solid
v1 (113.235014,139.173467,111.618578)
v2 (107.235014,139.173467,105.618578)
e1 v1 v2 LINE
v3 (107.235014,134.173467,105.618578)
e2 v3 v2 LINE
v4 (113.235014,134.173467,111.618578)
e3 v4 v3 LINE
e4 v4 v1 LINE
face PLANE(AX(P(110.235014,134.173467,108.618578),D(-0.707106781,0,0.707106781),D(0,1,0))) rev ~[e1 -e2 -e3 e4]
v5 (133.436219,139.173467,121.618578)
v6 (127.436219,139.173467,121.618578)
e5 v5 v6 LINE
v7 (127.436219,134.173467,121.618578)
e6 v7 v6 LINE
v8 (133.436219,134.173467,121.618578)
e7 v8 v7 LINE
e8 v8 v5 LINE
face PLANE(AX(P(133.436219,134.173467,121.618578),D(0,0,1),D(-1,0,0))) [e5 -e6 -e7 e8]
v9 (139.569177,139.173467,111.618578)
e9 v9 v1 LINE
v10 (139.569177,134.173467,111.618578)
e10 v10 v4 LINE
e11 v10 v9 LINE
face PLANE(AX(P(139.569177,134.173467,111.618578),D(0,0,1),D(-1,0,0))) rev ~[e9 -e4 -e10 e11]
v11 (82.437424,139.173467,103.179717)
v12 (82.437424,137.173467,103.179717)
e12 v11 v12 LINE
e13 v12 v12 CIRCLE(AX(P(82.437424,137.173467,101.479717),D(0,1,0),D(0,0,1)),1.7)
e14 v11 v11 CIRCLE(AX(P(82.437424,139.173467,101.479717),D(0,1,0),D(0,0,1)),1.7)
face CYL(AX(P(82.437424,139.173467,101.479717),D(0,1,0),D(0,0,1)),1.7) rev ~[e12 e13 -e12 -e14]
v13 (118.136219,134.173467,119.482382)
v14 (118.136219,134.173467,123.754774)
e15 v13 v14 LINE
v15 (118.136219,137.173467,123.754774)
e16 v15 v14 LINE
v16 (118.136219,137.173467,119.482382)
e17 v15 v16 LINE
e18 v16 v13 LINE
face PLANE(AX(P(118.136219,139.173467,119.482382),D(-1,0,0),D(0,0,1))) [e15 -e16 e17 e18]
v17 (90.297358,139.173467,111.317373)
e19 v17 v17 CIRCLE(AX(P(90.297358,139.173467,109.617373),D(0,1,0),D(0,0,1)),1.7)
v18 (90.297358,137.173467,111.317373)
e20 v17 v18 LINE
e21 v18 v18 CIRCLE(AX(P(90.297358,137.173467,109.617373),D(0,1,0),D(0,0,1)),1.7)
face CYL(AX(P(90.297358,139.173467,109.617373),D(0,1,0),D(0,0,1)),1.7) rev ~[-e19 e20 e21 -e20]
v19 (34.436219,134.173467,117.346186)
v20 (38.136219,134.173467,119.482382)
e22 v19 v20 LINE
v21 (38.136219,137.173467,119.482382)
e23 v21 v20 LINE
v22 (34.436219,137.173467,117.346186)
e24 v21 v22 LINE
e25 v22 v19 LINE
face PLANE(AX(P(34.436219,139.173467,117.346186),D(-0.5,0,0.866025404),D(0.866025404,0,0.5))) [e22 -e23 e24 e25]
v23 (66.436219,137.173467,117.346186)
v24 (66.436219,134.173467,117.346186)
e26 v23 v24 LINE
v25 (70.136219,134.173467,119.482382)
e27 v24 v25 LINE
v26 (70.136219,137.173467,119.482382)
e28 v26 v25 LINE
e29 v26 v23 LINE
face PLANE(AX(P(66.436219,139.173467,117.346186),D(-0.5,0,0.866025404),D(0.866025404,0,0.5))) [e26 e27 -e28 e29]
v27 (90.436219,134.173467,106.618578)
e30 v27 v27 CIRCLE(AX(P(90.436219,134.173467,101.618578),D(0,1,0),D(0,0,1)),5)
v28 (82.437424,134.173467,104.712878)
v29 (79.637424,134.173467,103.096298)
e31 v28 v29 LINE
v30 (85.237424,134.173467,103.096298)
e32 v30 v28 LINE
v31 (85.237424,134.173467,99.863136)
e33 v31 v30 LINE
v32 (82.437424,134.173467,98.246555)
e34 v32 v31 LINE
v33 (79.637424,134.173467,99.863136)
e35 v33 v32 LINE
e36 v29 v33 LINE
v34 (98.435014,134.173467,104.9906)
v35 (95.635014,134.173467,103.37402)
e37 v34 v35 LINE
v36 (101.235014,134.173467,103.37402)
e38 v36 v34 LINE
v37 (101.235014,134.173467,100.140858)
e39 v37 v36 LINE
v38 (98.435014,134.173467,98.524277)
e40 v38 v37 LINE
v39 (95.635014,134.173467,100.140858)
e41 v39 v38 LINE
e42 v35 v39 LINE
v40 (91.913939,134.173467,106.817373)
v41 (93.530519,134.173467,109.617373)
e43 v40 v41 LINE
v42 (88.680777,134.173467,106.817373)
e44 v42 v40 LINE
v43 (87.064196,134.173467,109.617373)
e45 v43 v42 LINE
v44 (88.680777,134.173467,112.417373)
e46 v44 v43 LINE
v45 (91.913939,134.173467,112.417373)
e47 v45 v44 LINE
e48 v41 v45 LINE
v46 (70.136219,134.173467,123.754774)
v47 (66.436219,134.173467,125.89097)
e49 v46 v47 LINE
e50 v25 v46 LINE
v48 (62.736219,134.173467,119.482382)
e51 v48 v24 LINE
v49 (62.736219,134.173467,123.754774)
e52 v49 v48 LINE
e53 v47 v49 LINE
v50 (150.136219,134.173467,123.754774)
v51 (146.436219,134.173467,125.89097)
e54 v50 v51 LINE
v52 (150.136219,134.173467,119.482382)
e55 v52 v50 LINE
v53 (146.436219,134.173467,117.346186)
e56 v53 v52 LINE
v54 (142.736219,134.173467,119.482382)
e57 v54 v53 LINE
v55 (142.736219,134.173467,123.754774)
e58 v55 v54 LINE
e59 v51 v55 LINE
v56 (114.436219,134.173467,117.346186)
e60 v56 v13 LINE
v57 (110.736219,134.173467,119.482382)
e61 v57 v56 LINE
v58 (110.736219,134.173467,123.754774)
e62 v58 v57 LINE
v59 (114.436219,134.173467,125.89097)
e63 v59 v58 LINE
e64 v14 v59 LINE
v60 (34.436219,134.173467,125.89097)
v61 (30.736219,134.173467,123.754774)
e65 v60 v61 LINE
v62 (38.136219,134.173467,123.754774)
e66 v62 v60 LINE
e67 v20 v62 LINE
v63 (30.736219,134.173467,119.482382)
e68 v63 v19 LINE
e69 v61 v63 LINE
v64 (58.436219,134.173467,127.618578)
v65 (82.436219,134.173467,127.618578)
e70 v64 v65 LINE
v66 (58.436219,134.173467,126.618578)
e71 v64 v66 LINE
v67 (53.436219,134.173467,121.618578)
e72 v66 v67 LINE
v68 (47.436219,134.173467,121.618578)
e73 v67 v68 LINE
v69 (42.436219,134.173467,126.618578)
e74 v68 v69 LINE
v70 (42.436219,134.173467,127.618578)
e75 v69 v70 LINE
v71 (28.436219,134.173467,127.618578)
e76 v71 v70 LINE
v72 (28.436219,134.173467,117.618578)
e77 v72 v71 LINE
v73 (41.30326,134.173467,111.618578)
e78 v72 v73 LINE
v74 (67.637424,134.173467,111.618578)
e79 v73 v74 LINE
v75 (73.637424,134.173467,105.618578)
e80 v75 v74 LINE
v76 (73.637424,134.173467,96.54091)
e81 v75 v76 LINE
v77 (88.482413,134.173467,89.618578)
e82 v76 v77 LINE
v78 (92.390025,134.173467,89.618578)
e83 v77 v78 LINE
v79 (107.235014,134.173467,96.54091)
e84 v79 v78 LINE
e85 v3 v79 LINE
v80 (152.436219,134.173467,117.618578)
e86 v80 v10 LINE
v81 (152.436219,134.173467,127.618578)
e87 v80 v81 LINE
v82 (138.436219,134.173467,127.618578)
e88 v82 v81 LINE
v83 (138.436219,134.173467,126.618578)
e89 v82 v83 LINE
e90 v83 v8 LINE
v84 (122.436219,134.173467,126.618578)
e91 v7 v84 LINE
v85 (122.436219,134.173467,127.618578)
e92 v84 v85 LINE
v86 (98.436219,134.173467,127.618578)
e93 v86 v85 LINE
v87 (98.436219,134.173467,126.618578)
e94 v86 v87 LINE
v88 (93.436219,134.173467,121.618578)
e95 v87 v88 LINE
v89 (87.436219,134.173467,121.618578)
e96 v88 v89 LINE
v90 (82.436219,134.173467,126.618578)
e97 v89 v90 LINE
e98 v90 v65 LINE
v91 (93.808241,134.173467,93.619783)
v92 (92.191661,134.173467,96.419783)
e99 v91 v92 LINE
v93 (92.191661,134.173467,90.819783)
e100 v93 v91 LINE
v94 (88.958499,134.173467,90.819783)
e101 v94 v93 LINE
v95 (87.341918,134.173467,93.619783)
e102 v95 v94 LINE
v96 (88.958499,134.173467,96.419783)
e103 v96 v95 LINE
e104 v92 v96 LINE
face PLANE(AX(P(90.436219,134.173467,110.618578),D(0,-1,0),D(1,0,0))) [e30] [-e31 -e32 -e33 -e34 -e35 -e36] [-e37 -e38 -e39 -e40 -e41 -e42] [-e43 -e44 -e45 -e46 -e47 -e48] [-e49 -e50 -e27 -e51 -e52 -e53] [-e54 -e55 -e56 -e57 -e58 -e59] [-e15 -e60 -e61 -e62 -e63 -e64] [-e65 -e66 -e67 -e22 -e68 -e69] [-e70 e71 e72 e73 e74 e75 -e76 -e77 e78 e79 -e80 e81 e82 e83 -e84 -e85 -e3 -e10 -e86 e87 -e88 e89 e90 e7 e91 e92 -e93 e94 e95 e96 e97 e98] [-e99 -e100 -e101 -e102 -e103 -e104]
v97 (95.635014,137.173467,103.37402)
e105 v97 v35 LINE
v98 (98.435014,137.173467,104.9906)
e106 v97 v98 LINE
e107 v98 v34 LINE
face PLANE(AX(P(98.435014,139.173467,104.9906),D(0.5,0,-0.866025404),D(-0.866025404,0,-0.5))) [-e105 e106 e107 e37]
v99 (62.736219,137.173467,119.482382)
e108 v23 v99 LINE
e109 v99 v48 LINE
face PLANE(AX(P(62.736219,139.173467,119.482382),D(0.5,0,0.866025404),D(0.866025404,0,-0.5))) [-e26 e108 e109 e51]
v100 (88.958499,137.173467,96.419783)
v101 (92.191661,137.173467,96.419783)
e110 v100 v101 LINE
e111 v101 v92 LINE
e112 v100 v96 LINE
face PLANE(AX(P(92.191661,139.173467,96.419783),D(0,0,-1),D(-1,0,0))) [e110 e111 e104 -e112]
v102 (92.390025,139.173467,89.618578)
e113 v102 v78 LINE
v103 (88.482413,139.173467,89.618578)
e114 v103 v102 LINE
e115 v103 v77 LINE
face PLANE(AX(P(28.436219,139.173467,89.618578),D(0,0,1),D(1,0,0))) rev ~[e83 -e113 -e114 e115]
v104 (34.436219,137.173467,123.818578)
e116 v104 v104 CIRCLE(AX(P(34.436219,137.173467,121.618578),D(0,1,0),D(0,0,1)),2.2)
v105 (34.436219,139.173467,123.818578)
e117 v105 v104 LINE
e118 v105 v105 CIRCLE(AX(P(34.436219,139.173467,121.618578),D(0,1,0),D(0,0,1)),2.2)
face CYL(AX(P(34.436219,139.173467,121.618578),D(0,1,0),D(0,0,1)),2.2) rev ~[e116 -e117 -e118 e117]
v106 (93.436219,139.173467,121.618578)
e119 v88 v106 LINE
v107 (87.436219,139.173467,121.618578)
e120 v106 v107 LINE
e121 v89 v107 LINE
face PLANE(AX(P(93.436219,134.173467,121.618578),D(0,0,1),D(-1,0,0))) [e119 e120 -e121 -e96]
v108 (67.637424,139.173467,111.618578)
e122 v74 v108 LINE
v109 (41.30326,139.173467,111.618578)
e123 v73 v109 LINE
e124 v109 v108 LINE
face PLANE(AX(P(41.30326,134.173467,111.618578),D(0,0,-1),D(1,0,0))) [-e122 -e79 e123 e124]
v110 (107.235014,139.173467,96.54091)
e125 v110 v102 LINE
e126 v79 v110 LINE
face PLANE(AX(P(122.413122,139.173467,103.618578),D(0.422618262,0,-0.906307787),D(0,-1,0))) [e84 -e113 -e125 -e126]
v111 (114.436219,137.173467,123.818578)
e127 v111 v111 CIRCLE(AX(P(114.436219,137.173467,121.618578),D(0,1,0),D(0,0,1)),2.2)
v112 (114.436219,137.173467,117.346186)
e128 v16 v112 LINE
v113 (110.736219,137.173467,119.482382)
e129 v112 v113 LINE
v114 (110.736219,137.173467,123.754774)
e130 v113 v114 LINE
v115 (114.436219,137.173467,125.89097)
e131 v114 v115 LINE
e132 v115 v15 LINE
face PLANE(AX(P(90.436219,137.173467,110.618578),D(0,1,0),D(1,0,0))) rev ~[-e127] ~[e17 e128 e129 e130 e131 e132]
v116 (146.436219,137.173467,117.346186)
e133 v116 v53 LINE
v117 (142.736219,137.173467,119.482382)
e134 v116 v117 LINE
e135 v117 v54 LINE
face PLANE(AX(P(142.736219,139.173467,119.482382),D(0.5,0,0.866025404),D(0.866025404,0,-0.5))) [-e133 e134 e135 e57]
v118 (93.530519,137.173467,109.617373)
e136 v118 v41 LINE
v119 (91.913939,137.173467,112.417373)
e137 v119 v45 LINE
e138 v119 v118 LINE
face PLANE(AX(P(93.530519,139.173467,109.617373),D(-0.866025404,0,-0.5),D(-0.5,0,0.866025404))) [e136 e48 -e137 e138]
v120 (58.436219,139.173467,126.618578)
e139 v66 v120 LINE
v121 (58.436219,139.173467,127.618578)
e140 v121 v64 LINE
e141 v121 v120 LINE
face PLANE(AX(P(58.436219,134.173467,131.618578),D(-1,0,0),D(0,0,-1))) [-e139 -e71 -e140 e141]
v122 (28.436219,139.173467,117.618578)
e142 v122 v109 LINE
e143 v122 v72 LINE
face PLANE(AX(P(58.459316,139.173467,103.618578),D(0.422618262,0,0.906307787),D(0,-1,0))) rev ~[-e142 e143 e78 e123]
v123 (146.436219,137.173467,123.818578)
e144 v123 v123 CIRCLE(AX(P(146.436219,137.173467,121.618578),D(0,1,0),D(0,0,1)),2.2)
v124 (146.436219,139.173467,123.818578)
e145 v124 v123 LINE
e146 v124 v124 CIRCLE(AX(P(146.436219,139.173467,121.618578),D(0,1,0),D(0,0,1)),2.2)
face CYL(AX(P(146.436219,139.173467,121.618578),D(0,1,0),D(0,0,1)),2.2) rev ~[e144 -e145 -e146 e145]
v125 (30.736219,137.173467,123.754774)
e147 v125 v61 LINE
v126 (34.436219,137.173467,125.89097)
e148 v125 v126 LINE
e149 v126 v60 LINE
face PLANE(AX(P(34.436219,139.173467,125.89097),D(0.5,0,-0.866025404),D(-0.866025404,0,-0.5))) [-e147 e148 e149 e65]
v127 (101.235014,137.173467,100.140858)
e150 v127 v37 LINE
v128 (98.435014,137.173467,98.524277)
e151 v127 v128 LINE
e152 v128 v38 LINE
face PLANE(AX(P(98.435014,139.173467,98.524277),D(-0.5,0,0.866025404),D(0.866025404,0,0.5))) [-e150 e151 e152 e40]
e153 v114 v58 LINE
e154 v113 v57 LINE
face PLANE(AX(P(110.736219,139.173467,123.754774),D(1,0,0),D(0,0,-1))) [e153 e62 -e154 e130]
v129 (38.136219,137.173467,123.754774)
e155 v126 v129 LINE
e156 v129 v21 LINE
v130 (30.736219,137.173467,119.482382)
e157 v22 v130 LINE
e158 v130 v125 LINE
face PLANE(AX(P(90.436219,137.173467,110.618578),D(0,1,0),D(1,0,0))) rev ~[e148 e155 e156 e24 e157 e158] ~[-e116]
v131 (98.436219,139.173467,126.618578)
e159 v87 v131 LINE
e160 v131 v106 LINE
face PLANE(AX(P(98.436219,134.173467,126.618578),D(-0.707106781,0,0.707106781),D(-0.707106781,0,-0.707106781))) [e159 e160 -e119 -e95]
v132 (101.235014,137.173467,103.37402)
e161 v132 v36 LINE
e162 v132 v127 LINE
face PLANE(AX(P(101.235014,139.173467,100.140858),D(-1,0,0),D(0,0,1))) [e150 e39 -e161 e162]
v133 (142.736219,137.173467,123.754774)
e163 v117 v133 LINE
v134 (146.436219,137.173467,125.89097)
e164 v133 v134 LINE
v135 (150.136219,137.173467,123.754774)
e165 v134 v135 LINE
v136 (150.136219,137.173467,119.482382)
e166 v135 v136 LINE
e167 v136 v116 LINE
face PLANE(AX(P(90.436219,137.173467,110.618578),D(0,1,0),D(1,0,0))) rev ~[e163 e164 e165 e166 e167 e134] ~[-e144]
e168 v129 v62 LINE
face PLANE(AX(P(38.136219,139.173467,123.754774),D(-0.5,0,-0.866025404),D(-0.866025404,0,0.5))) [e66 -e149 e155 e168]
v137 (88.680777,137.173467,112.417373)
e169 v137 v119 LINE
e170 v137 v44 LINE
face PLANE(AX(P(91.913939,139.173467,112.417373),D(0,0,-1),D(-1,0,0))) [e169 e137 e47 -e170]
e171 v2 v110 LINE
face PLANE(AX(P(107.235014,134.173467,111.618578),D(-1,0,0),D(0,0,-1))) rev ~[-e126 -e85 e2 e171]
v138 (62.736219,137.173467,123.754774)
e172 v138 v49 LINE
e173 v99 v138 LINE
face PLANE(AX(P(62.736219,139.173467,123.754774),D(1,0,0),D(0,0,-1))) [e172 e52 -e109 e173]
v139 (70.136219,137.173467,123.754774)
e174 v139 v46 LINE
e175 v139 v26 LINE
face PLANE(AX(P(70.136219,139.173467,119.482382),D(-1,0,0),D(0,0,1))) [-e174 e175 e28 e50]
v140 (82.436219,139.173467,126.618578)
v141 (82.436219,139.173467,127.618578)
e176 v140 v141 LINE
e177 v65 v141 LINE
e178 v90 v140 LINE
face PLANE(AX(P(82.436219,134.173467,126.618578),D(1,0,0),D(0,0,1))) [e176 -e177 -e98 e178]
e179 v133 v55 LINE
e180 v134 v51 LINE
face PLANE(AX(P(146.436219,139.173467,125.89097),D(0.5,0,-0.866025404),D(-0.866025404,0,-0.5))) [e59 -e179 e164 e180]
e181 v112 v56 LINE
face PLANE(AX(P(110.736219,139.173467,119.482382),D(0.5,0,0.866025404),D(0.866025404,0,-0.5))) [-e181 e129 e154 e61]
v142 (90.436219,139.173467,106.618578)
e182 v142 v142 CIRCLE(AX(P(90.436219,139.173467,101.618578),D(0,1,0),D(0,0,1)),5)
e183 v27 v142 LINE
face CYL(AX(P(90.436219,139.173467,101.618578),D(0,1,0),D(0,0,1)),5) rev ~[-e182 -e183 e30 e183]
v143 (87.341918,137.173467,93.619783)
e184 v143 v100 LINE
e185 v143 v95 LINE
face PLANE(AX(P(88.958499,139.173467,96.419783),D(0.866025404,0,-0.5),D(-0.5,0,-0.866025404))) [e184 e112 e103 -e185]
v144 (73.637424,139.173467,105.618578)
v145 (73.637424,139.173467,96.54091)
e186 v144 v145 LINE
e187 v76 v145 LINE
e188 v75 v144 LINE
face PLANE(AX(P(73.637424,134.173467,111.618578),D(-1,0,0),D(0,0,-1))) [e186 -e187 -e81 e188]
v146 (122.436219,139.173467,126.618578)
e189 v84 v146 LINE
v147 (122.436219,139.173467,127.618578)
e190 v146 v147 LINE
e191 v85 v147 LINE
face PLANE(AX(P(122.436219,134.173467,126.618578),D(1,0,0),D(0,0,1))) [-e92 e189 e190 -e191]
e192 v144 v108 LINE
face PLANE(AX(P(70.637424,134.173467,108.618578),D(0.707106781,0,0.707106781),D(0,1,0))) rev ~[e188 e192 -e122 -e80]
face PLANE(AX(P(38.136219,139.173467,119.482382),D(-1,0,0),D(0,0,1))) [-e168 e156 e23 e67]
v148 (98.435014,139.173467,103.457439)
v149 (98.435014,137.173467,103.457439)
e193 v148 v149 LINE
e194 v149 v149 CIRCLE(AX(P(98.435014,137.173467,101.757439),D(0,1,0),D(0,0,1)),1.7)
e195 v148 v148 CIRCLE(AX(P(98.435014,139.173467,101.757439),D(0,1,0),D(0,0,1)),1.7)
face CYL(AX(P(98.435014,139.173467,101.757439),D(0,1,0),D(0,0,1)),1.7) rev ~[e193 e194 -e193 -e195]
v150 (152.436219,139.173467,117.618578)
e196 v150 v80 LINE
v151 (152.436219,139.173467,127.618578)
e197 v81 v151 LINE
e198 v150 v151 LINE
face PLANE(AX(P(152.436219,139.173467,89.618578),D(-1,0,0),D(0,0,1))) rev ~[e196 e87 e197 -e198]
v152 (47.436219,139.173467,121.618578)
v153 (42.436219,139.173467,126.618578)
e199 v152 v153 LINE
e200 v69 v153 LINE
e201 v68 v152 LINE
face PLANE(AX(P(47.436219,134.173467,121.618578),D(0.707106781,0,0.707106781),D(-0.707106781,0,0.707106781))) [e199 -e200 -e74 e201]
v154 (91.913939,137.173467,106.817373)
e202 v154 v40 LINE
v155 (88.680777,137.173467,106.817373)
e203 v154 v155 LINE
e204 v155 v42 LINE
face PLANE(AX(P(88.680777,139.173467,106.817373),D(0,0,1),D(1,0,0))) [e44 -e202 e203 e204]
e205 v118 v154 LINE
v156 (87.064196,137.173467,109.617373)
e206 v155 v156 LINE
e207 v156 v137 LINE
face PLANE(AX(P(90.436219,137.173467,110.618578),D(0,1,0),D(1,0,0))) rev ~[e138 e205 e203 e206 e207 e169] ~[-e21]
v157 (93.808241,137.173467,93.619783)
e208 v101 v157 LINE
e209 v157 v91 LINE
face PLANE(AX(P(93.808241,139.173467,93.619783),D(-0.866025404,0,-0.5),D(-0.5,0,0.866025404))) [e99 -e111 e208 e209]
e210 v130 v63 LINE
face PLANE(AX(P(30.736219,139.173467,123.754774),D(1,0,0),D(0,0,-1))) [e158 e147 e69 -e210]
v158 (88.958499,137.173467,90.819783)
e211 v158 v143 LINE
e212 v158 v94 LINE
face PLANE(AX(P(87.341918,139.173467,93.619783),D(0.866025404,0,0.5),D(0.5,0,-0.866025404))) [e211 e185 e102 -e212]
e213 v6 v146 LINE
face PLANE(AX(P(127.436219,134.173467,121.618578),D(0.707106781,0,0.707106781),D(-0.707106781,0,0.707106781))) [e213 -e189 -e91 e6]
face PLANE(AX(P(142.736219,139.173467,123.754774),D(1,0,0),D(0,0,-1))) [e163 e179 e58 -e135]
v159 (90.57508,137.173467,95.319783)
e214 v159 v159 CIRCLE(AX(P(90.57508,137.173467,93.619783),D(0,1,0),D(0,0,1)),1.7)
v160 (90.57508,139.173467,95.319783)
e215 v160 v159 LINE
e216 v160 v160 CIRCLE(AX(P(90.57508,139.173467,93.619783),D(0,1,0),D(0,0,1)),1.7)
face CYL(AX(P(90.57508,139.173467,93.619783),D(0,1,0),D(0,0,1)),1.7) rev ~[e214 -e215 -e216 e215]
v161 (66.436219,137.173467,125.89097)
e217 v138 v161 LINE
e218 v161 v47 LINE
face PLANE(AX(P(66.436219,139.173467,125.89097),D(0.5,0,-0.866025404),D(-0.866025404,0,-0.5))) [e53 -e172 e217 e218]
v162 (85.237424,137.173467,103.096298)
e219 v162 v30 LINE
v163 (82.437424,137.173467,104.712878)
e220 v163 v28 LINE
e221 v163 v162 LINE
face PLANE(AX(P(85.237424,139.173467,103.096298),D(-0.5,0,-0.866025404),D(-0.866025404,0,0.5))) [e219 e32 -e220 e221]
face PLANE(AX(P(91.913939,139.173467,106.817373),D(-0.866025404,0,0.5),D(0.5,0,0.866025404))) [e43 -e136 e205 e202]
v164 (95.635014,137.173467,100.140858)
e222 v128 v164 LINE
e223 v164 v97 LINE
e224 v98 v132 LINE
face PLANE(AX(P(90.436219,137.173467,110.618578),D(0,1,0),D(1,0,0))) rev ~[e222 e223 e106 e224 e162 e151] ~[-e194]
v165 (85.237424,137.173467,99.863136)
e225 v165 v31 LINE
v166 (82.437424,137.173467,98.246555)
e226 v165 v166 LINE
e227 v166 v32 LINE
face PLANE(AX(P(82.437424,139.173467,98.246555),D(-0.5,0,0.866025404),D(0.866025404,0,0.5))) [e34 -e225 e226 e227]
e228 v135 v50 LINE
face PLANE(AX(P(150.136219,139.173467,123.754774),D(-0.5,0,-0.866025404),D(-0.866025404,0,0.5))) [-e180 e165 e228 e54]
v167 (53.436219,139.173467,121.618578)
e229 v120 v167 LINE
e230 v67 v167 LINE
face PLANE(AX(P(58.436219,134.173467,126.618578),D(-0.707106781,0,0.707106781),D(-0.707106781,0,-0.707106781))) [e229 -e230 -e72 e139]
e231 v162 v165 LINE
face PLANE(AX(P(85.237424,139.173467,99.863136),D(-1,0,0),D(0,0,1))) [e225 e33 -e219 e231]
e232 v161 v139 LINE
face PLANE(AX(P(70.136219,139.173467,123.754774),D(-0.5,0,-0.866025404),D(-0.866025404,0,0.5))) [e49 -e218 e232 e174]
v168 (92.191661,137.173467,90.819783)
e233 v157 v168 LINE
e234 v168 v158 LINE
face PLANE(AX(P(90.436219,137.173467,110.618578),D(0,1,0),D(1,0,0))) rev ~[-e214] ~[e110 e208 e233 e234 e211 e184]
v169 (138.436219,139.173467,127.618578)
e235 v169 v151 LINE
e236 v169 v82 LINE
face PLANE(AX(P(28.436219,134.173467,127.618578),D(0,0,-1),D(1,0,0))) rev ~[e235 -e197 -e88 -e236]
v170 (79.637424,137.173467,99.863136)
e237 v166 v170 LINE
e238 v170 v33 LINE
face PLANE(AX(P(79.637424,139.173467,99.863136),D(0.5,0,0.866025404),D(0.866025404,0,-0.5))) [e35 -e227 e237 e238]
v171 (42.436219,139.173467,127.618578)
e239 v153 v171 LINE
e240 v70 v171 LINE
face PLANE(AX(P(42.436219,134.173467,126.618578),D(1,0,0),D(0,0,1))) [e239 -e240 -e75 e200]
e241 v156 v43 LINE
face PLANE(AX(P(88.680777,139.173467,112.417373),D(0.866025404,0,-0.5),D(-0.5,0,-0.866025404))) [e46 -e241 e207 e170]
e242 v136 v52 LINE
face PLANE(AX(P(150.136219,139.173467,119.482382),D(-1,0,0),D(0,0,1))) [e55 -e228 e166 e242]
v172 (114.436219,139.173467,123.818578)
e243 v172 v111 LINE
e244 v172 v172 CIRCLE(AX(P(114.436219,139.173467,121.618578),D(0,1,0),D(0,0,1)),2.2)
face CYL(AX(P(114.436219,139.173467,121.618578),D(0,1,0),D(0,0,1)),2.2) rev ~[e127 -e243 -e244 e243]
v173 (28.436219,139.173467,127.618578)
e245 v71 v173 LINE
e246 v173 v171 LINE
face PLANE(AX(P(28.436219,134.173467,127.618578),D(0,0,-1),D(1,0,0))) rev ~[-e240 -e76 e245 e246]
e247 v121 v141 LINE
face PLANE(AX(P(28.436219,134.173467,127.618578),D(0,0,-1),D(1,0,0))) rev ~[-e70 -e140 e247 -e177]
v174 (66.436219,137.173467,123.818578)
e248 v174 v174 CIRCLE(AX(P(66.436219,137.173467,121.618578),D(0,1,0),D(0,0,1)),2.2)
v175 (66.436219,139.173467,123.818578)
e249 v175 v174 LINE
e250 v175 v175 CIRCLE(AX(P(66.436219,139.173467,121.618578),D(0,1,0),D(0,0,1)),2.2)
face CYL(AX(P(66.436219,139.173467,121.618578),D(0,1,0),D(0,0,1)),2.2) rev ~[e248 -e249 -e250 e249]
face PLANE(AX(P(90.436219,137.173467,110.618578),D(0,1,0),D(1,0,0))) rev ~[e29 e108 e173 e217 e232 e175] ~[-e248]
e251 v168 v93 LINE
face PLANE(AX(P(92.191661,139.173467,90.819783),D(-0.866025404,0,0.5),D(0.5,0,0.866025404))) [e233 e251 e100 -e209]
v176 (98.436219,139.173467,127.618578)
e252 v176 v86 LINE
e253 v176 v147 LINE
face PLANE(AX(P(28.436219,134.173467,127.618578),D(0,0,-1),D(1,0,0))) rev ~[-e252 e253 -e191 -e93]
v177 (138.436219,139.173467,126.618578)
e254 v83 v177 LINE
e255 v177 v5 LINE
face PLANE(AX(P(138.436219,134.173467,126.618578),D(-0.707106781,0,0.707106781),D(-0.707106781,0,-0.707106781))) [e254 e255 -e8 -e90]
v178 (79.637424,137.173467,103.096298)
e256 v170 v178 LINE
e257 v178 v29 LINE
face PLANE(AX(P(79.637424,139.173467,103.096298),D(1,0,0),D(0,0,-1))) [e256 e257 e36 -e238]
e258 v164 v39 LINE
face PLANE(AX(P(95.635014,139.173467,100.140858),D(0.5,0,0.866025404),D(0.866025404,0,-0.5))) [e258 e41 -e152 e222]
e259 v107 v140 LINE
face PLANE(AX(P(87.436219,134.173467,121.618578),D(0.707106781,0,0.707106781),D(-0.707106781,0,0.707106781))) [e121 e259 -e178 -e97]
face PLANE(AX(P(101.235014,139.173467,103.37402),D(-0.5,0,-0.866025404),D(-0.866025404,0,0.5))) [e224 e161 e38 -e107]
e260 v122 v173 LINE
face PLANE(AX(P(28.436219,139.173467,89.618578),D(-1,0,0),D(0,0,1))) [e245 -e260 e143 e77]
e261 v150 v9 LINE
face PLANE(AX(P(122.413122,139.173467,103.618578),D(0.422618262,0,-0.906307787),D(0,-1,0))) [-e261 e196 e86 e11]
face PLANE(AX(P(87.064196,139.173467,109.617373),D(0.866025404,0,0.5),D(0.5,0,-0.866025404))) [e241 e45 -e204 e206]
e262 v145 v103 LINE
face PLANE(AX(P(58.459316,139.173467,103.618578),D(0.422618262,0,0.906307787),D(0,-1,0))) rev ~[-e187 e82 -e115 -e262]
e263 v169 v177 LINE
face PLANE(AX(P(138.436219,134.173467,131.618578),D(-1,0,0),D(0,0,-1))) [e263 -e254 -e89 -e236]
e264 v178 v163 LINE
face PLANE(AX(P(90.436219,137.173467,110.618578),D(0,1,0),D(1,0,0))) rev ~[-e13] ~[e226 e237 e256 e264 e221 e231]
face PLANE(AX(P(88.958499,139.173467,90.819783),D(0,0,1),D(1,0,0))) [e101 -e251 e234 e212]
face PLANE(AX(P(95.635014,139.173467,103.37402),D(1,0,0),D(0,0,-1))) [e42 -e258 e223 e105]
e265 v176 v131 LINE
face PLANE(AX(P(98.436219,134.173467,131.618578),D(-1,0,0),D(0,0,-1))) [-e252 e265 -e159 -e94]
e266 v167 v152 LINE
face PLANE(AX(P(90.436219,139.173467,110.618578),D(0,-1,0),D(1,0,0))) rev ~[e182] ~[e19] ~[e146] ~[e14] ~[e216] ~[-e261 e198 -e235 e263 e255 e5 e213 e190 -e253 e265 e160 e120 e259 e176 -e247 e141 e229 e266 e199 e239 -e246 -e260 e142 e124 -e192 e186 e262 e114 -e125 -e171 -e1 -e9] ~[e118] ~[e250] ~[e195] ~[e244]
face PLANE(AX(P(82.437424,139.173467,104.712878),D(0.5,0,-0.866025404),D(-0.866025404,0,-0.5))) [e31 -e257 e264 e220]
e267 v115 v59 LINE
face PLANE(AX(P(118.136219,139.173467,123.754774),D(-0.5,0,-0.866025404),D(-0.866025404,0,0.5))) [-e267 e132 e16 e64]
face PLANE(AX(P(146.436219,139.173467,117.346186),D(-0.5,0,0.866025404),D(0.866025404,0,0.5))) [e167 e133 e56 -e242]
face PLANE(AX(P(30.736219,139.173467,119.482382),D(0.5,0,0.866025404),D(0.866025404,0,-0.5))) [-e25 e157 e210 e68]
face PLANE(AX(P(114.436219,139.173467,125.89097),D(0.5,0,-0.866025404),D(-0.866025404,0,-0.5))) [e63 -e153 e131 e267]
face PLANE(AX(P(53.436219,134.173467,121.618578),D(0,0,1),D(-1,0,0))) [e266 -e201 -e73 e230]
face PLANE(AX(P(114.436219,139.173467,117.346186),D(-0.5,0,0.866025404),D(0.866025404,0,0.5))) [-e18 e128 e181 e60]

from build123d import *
from OCP.BRepFilletAPI import BRepFilletAPI_MakeChamfer

# Parameters (mm, degrees)
SKETCH1_W           = 124
SKETCH1_H           = 42
BOSS_EXTRUDE1_DEPTH = 5
SKETCH2_R           = 5
CUT_EXTRUDE1_DEPTH  = 5
SKETCH3_W           = 124
SKETCH3_H           = 42
SKETCH3_R           = 2.2
SKETCH3_R_2         = 1.7
SKETCH3_R_3         = 5
BOSS_EXTRUDE2_DEPTH = 2
CHAMFER1_SIZE       = 28
CHAMFER1_SIZE2      = 60.046193774
CUT_EXTRUDE2_DEPTH  = 10
LPATTERN1_COUNT     = 3
LPATTERN1_PITCH     = 40
SKETCH5_W           = 124
SKETCH5_H           = 4
CUT_EXTRUDE3_DEPTH  = 10
CUT_EXTRUDE4_DEPTH  = 10
CHAMFER2_SIZE       = 6


with BuildPart() as part:
    # Sketch1 → Boss-Extrude1 (new body)
    with BuildSketch(Plane.XZ.offset(-139.173467121)):
        with Locations((90.436218841, 110.61857787)):
            Rectangle(SKETCH1_W, SKETCH1_H)
        Polygon((87.341918286, 93.619783108), (88.95849904, 90.819783108), (92.191660547, 90.819783108), (93.808241301, 93.619783108), (92.191660547, 96.419783108), (88.95849904, 96.419783108), align=None, mode=Mode.SUBTRACT)
        Polygon((98.435013602, 98.524277315), (101.235013602, 100.140858069), (101.235013602, 103.374019576), (98.435013602, 104.99060033), (95.635013602, 103.374019576), (95.635013602, 100.140858069), align=None, mode=Mode.SUBTRACT)
        Polygon((82.437424079, 104.712878424), (79.637424079, 103.09629767), (79.637424079, 99.863136163), (82.437424079, 98.246555409), (85.237424079, 99.863136163), (85.237424079, 103.09629767), align=None, mode=Mode.SUBTRACT)
        Polygon((93.530519395, 109.617372631), (91.913938641, 112.417372631), (88.680777134, 112.417372631), (87.06419638, 109.617372631), (88.680777134, 106.817372631), (91.913938641, 106.817372631), align=None, mode=Mode.SUBTRACT)
        Polygon((34.436218841, 125.890969862), (30.736218841, 123.754773866), (30.736218841, 119.482381874), (34.436218841, 117.346185878), (38.136218841, 119.482381874), (38.136218841, 123.754773866), align=None, mode=Mode.SUBTRACT)
        Polygon((62.736218841, 123.754773866), (62.736218841, 119.482381874), (66.436218841, 117.346185878), (70.136218841, 119.482381874), (70.136218841, 123.754773866), (66.436218841, 125.890969862), align=None, mode=Mode.SUBTRACT)
        Polygon((118.136218841, 123.754773866), (114.436218841, 125.890969862), (110.736218841, 123.754773866), (110.736218841, 119.482381874), (114.436218841, 117.346185878), (118.136218841, 119.482381874), align=None, mode=Mode.SUBTRACT)
        Polygon((142.736218841, 119.482381874), (146.436218841, 117.346185878), (150.136218841, 119.482381874), (150.136218841, 123.754773866), (146.436218841, 125.890969862), (142.736218841, 123.754773866), align=None, mode=Mode.SUBTRACT)
    extrude(amount=BOSS_EXTRUDE1_DEPTH)

    # Sketch2 → Cut-Extrude1 (cut)
    with BuildSketch(Plane(origin=(0, 139.173467121, 0), x_dir=(1, 0, 0), z_dir=(0, 1, 0))):
        with Locations(Location((90.436218841, -101.61857787, 0), (0, 0, 270))):
            Circle(SKETCH2_R)
    extrude(amount=-CUT_EXTRUDE1_DEPTH, mode=Mode.SUBTRACT)

    # Sketch3 → Boss-Extrude2 (add)
    with BuildSketch(Plane(origin=(0, 139.173467121, 0), x_dir=(1, 0, 0), z_dir=(0, 1, 0))):
        with Locations((90.436218841, -110.61857787)):
            Rectangle(SKETCH3_W, SKETCH3_H)
        with Locations(Location((34.436218841, -121.61857787, 0), (0, 0, 270))):
            Circle(SKETCH3_R, mode=Mode.SUBTRACT)
        with Locations(Location((66.436218841, -121.61857787, 0), (0, 0, 270))):
            Circle(SKETCH3_R, mode=Mode.SUBTRACT)
        with Locations(Location((114.436218841, -121.61857787, 0), (0, 0, 270))):
            Circle(SKETCH3_R, mode=Mode.SUBTRACT)
        with Locations(Location((146.436218841, -121.61857787, 0), (0, 0, 270))):
            Circle(SKETCH3_R, mode=Mode.SUBTRACT)
        with Locations(Location((90.575079793, -93.619783108, 0), (0, 0, 270))):
            Circle(SKETCH3_R_2, mode=Mode.SUBTRACT)
        with Locations(Location((82.437424079, -101.479716917, 0), (0, 0, 270))):
            Circle(SKETCH3_R_2, mode=Mode.SUBTRACT)
        with Locations(Location((90.297357888, -109.617372631, 0), (0, 0, 270))):
            Circle(SKETCH3_R_2, mode=Mode.SUBTRACT)
        with Locations(Location((98.435013602, -101.757438823, 0), (0, 0, 270))):
            Circle(SKETCH3_R_2, mode=Mode.SUBTRACT)
        with Locations(Location((90.436218841, -101.61857787, 0), (0, 0, 270))):
            Circle(SKETCH3_R_3, mode=Mode.SUBTRACT)
    extrude(amount=-BOSS_EXTRUDE2_DEPTH)

    # Chamfer1: one chamfer whose edges measure the first distance from different faces: ONE call of the kernel's chamfer builder (chamfer() names one face for all edges)
    chamfer1_edges_1 = [part.edges().sort_by_distance(p)[0] for p in [
        (152.436218841, 136.673467121, 89.61857787),
    ]]
    chamfer1_side_1 = [part.faces().sort_by_distance(p)[0] for p in [
        (152.436218841, 136.673467121, 110.61857787),
    ]]
    chamfer1_edges_2 = [part.edges().sort_by_distance(p)[0] for p in [
        (28.436218841, 136.673467121, 89.61857787),
    ]]
    chamfer1_side_2 = [part.faces().sort_by_distance(p)[0] for p in [
        (28.436218841, 136.673467121, 110.61857787),
    ]]
    chamfer1 = BRepFilletAPI_MakeChamfer(part.part.solid().wrapped)
    for e in chamfer1_edges_1:
        chamfer1.Add(CHAMFER1_SIZE, CHAMFER1_SIZE2, e.wrapped, chamfer1_side_1[0].wrapped)  # the first distance lies on this face
    for e in chamfer1_edges_2:
        chamfer1.Add(CHAMFER1_SIZE, CHAMFER1_SIZE2, e.wrapped, chamfer1_side_2[0].wrapped)  # the first distance lies on this face
    add(Compound.cast(chamfer1.Shape()), mode=Mode.REPLACE)

    # Sketch4 → Cut-Extrude2 (cut)
    with BuildSketch(Plane.XZ.offset(-134.173467121)):
        Polygon((42.436218841, 131.61857787), (58.436218841, 131.61857787), (58.436218841, 126.61857787), (53.436218841, 121.61857787), (47.436218841, 121.61857787), (42.436218841, 126.61857787), align=None)
    cut_extrude2 = extrude(amount=-CUT_EXTRUDE2_DEPTH, mode=Mode.SUBTRACT)

    # LPattern1: Cut-Extrude2 ×3
    with Locations(*[(i * LPATTERN1_PITCH, 0, 0) for i in range(1, LPATTERN1_COUNT)]):
        add(cut_extrude2, mode=Mode.SUBTRACT)

    # Sketch5 → Cut-Extrude3 (cut)
    with BuildSketch(Plane.XZ.offset(-134.173467121)):
        with Locations((90.436218841, 129.61857787)):
            Rectangle(SKETCH5_W, SKETCH5_H)
    extrude(amount=-CUT_EXTRUDE3_DEPTH, mode=Mode.SUBTRACT)

    # Sketch6 → Cut-Extrude4 (cut)
    with BuildSketch(Plane.XZ.offset(-134.173467121)):
        Polygon((41.303260364, 111.61857787), (73.637424079, 111.61857787), (73.637424079, 96.540909709), align=None)
        Polygon((107.235013602, 111.61857787), (107.235013602, 96.540909709), (139.569177317, 111.61857787), align=None)
    extrude(amount=-CUT_EXTRUDE4_DEPTH, mode=Mode.SUBTRACT)

    # Chamfer2
    chamfer2_edges = [part.edges().sort_by_distance(p)[0] for p in [
        (73.637424079, 136.673467121, 111.61857787),
        (107.235013602, 136.673467121, 111.61857787),
    ]]
    chamfer(chamfer2_edges, length=CHAMFER2_SIZE)


solid = part.part
